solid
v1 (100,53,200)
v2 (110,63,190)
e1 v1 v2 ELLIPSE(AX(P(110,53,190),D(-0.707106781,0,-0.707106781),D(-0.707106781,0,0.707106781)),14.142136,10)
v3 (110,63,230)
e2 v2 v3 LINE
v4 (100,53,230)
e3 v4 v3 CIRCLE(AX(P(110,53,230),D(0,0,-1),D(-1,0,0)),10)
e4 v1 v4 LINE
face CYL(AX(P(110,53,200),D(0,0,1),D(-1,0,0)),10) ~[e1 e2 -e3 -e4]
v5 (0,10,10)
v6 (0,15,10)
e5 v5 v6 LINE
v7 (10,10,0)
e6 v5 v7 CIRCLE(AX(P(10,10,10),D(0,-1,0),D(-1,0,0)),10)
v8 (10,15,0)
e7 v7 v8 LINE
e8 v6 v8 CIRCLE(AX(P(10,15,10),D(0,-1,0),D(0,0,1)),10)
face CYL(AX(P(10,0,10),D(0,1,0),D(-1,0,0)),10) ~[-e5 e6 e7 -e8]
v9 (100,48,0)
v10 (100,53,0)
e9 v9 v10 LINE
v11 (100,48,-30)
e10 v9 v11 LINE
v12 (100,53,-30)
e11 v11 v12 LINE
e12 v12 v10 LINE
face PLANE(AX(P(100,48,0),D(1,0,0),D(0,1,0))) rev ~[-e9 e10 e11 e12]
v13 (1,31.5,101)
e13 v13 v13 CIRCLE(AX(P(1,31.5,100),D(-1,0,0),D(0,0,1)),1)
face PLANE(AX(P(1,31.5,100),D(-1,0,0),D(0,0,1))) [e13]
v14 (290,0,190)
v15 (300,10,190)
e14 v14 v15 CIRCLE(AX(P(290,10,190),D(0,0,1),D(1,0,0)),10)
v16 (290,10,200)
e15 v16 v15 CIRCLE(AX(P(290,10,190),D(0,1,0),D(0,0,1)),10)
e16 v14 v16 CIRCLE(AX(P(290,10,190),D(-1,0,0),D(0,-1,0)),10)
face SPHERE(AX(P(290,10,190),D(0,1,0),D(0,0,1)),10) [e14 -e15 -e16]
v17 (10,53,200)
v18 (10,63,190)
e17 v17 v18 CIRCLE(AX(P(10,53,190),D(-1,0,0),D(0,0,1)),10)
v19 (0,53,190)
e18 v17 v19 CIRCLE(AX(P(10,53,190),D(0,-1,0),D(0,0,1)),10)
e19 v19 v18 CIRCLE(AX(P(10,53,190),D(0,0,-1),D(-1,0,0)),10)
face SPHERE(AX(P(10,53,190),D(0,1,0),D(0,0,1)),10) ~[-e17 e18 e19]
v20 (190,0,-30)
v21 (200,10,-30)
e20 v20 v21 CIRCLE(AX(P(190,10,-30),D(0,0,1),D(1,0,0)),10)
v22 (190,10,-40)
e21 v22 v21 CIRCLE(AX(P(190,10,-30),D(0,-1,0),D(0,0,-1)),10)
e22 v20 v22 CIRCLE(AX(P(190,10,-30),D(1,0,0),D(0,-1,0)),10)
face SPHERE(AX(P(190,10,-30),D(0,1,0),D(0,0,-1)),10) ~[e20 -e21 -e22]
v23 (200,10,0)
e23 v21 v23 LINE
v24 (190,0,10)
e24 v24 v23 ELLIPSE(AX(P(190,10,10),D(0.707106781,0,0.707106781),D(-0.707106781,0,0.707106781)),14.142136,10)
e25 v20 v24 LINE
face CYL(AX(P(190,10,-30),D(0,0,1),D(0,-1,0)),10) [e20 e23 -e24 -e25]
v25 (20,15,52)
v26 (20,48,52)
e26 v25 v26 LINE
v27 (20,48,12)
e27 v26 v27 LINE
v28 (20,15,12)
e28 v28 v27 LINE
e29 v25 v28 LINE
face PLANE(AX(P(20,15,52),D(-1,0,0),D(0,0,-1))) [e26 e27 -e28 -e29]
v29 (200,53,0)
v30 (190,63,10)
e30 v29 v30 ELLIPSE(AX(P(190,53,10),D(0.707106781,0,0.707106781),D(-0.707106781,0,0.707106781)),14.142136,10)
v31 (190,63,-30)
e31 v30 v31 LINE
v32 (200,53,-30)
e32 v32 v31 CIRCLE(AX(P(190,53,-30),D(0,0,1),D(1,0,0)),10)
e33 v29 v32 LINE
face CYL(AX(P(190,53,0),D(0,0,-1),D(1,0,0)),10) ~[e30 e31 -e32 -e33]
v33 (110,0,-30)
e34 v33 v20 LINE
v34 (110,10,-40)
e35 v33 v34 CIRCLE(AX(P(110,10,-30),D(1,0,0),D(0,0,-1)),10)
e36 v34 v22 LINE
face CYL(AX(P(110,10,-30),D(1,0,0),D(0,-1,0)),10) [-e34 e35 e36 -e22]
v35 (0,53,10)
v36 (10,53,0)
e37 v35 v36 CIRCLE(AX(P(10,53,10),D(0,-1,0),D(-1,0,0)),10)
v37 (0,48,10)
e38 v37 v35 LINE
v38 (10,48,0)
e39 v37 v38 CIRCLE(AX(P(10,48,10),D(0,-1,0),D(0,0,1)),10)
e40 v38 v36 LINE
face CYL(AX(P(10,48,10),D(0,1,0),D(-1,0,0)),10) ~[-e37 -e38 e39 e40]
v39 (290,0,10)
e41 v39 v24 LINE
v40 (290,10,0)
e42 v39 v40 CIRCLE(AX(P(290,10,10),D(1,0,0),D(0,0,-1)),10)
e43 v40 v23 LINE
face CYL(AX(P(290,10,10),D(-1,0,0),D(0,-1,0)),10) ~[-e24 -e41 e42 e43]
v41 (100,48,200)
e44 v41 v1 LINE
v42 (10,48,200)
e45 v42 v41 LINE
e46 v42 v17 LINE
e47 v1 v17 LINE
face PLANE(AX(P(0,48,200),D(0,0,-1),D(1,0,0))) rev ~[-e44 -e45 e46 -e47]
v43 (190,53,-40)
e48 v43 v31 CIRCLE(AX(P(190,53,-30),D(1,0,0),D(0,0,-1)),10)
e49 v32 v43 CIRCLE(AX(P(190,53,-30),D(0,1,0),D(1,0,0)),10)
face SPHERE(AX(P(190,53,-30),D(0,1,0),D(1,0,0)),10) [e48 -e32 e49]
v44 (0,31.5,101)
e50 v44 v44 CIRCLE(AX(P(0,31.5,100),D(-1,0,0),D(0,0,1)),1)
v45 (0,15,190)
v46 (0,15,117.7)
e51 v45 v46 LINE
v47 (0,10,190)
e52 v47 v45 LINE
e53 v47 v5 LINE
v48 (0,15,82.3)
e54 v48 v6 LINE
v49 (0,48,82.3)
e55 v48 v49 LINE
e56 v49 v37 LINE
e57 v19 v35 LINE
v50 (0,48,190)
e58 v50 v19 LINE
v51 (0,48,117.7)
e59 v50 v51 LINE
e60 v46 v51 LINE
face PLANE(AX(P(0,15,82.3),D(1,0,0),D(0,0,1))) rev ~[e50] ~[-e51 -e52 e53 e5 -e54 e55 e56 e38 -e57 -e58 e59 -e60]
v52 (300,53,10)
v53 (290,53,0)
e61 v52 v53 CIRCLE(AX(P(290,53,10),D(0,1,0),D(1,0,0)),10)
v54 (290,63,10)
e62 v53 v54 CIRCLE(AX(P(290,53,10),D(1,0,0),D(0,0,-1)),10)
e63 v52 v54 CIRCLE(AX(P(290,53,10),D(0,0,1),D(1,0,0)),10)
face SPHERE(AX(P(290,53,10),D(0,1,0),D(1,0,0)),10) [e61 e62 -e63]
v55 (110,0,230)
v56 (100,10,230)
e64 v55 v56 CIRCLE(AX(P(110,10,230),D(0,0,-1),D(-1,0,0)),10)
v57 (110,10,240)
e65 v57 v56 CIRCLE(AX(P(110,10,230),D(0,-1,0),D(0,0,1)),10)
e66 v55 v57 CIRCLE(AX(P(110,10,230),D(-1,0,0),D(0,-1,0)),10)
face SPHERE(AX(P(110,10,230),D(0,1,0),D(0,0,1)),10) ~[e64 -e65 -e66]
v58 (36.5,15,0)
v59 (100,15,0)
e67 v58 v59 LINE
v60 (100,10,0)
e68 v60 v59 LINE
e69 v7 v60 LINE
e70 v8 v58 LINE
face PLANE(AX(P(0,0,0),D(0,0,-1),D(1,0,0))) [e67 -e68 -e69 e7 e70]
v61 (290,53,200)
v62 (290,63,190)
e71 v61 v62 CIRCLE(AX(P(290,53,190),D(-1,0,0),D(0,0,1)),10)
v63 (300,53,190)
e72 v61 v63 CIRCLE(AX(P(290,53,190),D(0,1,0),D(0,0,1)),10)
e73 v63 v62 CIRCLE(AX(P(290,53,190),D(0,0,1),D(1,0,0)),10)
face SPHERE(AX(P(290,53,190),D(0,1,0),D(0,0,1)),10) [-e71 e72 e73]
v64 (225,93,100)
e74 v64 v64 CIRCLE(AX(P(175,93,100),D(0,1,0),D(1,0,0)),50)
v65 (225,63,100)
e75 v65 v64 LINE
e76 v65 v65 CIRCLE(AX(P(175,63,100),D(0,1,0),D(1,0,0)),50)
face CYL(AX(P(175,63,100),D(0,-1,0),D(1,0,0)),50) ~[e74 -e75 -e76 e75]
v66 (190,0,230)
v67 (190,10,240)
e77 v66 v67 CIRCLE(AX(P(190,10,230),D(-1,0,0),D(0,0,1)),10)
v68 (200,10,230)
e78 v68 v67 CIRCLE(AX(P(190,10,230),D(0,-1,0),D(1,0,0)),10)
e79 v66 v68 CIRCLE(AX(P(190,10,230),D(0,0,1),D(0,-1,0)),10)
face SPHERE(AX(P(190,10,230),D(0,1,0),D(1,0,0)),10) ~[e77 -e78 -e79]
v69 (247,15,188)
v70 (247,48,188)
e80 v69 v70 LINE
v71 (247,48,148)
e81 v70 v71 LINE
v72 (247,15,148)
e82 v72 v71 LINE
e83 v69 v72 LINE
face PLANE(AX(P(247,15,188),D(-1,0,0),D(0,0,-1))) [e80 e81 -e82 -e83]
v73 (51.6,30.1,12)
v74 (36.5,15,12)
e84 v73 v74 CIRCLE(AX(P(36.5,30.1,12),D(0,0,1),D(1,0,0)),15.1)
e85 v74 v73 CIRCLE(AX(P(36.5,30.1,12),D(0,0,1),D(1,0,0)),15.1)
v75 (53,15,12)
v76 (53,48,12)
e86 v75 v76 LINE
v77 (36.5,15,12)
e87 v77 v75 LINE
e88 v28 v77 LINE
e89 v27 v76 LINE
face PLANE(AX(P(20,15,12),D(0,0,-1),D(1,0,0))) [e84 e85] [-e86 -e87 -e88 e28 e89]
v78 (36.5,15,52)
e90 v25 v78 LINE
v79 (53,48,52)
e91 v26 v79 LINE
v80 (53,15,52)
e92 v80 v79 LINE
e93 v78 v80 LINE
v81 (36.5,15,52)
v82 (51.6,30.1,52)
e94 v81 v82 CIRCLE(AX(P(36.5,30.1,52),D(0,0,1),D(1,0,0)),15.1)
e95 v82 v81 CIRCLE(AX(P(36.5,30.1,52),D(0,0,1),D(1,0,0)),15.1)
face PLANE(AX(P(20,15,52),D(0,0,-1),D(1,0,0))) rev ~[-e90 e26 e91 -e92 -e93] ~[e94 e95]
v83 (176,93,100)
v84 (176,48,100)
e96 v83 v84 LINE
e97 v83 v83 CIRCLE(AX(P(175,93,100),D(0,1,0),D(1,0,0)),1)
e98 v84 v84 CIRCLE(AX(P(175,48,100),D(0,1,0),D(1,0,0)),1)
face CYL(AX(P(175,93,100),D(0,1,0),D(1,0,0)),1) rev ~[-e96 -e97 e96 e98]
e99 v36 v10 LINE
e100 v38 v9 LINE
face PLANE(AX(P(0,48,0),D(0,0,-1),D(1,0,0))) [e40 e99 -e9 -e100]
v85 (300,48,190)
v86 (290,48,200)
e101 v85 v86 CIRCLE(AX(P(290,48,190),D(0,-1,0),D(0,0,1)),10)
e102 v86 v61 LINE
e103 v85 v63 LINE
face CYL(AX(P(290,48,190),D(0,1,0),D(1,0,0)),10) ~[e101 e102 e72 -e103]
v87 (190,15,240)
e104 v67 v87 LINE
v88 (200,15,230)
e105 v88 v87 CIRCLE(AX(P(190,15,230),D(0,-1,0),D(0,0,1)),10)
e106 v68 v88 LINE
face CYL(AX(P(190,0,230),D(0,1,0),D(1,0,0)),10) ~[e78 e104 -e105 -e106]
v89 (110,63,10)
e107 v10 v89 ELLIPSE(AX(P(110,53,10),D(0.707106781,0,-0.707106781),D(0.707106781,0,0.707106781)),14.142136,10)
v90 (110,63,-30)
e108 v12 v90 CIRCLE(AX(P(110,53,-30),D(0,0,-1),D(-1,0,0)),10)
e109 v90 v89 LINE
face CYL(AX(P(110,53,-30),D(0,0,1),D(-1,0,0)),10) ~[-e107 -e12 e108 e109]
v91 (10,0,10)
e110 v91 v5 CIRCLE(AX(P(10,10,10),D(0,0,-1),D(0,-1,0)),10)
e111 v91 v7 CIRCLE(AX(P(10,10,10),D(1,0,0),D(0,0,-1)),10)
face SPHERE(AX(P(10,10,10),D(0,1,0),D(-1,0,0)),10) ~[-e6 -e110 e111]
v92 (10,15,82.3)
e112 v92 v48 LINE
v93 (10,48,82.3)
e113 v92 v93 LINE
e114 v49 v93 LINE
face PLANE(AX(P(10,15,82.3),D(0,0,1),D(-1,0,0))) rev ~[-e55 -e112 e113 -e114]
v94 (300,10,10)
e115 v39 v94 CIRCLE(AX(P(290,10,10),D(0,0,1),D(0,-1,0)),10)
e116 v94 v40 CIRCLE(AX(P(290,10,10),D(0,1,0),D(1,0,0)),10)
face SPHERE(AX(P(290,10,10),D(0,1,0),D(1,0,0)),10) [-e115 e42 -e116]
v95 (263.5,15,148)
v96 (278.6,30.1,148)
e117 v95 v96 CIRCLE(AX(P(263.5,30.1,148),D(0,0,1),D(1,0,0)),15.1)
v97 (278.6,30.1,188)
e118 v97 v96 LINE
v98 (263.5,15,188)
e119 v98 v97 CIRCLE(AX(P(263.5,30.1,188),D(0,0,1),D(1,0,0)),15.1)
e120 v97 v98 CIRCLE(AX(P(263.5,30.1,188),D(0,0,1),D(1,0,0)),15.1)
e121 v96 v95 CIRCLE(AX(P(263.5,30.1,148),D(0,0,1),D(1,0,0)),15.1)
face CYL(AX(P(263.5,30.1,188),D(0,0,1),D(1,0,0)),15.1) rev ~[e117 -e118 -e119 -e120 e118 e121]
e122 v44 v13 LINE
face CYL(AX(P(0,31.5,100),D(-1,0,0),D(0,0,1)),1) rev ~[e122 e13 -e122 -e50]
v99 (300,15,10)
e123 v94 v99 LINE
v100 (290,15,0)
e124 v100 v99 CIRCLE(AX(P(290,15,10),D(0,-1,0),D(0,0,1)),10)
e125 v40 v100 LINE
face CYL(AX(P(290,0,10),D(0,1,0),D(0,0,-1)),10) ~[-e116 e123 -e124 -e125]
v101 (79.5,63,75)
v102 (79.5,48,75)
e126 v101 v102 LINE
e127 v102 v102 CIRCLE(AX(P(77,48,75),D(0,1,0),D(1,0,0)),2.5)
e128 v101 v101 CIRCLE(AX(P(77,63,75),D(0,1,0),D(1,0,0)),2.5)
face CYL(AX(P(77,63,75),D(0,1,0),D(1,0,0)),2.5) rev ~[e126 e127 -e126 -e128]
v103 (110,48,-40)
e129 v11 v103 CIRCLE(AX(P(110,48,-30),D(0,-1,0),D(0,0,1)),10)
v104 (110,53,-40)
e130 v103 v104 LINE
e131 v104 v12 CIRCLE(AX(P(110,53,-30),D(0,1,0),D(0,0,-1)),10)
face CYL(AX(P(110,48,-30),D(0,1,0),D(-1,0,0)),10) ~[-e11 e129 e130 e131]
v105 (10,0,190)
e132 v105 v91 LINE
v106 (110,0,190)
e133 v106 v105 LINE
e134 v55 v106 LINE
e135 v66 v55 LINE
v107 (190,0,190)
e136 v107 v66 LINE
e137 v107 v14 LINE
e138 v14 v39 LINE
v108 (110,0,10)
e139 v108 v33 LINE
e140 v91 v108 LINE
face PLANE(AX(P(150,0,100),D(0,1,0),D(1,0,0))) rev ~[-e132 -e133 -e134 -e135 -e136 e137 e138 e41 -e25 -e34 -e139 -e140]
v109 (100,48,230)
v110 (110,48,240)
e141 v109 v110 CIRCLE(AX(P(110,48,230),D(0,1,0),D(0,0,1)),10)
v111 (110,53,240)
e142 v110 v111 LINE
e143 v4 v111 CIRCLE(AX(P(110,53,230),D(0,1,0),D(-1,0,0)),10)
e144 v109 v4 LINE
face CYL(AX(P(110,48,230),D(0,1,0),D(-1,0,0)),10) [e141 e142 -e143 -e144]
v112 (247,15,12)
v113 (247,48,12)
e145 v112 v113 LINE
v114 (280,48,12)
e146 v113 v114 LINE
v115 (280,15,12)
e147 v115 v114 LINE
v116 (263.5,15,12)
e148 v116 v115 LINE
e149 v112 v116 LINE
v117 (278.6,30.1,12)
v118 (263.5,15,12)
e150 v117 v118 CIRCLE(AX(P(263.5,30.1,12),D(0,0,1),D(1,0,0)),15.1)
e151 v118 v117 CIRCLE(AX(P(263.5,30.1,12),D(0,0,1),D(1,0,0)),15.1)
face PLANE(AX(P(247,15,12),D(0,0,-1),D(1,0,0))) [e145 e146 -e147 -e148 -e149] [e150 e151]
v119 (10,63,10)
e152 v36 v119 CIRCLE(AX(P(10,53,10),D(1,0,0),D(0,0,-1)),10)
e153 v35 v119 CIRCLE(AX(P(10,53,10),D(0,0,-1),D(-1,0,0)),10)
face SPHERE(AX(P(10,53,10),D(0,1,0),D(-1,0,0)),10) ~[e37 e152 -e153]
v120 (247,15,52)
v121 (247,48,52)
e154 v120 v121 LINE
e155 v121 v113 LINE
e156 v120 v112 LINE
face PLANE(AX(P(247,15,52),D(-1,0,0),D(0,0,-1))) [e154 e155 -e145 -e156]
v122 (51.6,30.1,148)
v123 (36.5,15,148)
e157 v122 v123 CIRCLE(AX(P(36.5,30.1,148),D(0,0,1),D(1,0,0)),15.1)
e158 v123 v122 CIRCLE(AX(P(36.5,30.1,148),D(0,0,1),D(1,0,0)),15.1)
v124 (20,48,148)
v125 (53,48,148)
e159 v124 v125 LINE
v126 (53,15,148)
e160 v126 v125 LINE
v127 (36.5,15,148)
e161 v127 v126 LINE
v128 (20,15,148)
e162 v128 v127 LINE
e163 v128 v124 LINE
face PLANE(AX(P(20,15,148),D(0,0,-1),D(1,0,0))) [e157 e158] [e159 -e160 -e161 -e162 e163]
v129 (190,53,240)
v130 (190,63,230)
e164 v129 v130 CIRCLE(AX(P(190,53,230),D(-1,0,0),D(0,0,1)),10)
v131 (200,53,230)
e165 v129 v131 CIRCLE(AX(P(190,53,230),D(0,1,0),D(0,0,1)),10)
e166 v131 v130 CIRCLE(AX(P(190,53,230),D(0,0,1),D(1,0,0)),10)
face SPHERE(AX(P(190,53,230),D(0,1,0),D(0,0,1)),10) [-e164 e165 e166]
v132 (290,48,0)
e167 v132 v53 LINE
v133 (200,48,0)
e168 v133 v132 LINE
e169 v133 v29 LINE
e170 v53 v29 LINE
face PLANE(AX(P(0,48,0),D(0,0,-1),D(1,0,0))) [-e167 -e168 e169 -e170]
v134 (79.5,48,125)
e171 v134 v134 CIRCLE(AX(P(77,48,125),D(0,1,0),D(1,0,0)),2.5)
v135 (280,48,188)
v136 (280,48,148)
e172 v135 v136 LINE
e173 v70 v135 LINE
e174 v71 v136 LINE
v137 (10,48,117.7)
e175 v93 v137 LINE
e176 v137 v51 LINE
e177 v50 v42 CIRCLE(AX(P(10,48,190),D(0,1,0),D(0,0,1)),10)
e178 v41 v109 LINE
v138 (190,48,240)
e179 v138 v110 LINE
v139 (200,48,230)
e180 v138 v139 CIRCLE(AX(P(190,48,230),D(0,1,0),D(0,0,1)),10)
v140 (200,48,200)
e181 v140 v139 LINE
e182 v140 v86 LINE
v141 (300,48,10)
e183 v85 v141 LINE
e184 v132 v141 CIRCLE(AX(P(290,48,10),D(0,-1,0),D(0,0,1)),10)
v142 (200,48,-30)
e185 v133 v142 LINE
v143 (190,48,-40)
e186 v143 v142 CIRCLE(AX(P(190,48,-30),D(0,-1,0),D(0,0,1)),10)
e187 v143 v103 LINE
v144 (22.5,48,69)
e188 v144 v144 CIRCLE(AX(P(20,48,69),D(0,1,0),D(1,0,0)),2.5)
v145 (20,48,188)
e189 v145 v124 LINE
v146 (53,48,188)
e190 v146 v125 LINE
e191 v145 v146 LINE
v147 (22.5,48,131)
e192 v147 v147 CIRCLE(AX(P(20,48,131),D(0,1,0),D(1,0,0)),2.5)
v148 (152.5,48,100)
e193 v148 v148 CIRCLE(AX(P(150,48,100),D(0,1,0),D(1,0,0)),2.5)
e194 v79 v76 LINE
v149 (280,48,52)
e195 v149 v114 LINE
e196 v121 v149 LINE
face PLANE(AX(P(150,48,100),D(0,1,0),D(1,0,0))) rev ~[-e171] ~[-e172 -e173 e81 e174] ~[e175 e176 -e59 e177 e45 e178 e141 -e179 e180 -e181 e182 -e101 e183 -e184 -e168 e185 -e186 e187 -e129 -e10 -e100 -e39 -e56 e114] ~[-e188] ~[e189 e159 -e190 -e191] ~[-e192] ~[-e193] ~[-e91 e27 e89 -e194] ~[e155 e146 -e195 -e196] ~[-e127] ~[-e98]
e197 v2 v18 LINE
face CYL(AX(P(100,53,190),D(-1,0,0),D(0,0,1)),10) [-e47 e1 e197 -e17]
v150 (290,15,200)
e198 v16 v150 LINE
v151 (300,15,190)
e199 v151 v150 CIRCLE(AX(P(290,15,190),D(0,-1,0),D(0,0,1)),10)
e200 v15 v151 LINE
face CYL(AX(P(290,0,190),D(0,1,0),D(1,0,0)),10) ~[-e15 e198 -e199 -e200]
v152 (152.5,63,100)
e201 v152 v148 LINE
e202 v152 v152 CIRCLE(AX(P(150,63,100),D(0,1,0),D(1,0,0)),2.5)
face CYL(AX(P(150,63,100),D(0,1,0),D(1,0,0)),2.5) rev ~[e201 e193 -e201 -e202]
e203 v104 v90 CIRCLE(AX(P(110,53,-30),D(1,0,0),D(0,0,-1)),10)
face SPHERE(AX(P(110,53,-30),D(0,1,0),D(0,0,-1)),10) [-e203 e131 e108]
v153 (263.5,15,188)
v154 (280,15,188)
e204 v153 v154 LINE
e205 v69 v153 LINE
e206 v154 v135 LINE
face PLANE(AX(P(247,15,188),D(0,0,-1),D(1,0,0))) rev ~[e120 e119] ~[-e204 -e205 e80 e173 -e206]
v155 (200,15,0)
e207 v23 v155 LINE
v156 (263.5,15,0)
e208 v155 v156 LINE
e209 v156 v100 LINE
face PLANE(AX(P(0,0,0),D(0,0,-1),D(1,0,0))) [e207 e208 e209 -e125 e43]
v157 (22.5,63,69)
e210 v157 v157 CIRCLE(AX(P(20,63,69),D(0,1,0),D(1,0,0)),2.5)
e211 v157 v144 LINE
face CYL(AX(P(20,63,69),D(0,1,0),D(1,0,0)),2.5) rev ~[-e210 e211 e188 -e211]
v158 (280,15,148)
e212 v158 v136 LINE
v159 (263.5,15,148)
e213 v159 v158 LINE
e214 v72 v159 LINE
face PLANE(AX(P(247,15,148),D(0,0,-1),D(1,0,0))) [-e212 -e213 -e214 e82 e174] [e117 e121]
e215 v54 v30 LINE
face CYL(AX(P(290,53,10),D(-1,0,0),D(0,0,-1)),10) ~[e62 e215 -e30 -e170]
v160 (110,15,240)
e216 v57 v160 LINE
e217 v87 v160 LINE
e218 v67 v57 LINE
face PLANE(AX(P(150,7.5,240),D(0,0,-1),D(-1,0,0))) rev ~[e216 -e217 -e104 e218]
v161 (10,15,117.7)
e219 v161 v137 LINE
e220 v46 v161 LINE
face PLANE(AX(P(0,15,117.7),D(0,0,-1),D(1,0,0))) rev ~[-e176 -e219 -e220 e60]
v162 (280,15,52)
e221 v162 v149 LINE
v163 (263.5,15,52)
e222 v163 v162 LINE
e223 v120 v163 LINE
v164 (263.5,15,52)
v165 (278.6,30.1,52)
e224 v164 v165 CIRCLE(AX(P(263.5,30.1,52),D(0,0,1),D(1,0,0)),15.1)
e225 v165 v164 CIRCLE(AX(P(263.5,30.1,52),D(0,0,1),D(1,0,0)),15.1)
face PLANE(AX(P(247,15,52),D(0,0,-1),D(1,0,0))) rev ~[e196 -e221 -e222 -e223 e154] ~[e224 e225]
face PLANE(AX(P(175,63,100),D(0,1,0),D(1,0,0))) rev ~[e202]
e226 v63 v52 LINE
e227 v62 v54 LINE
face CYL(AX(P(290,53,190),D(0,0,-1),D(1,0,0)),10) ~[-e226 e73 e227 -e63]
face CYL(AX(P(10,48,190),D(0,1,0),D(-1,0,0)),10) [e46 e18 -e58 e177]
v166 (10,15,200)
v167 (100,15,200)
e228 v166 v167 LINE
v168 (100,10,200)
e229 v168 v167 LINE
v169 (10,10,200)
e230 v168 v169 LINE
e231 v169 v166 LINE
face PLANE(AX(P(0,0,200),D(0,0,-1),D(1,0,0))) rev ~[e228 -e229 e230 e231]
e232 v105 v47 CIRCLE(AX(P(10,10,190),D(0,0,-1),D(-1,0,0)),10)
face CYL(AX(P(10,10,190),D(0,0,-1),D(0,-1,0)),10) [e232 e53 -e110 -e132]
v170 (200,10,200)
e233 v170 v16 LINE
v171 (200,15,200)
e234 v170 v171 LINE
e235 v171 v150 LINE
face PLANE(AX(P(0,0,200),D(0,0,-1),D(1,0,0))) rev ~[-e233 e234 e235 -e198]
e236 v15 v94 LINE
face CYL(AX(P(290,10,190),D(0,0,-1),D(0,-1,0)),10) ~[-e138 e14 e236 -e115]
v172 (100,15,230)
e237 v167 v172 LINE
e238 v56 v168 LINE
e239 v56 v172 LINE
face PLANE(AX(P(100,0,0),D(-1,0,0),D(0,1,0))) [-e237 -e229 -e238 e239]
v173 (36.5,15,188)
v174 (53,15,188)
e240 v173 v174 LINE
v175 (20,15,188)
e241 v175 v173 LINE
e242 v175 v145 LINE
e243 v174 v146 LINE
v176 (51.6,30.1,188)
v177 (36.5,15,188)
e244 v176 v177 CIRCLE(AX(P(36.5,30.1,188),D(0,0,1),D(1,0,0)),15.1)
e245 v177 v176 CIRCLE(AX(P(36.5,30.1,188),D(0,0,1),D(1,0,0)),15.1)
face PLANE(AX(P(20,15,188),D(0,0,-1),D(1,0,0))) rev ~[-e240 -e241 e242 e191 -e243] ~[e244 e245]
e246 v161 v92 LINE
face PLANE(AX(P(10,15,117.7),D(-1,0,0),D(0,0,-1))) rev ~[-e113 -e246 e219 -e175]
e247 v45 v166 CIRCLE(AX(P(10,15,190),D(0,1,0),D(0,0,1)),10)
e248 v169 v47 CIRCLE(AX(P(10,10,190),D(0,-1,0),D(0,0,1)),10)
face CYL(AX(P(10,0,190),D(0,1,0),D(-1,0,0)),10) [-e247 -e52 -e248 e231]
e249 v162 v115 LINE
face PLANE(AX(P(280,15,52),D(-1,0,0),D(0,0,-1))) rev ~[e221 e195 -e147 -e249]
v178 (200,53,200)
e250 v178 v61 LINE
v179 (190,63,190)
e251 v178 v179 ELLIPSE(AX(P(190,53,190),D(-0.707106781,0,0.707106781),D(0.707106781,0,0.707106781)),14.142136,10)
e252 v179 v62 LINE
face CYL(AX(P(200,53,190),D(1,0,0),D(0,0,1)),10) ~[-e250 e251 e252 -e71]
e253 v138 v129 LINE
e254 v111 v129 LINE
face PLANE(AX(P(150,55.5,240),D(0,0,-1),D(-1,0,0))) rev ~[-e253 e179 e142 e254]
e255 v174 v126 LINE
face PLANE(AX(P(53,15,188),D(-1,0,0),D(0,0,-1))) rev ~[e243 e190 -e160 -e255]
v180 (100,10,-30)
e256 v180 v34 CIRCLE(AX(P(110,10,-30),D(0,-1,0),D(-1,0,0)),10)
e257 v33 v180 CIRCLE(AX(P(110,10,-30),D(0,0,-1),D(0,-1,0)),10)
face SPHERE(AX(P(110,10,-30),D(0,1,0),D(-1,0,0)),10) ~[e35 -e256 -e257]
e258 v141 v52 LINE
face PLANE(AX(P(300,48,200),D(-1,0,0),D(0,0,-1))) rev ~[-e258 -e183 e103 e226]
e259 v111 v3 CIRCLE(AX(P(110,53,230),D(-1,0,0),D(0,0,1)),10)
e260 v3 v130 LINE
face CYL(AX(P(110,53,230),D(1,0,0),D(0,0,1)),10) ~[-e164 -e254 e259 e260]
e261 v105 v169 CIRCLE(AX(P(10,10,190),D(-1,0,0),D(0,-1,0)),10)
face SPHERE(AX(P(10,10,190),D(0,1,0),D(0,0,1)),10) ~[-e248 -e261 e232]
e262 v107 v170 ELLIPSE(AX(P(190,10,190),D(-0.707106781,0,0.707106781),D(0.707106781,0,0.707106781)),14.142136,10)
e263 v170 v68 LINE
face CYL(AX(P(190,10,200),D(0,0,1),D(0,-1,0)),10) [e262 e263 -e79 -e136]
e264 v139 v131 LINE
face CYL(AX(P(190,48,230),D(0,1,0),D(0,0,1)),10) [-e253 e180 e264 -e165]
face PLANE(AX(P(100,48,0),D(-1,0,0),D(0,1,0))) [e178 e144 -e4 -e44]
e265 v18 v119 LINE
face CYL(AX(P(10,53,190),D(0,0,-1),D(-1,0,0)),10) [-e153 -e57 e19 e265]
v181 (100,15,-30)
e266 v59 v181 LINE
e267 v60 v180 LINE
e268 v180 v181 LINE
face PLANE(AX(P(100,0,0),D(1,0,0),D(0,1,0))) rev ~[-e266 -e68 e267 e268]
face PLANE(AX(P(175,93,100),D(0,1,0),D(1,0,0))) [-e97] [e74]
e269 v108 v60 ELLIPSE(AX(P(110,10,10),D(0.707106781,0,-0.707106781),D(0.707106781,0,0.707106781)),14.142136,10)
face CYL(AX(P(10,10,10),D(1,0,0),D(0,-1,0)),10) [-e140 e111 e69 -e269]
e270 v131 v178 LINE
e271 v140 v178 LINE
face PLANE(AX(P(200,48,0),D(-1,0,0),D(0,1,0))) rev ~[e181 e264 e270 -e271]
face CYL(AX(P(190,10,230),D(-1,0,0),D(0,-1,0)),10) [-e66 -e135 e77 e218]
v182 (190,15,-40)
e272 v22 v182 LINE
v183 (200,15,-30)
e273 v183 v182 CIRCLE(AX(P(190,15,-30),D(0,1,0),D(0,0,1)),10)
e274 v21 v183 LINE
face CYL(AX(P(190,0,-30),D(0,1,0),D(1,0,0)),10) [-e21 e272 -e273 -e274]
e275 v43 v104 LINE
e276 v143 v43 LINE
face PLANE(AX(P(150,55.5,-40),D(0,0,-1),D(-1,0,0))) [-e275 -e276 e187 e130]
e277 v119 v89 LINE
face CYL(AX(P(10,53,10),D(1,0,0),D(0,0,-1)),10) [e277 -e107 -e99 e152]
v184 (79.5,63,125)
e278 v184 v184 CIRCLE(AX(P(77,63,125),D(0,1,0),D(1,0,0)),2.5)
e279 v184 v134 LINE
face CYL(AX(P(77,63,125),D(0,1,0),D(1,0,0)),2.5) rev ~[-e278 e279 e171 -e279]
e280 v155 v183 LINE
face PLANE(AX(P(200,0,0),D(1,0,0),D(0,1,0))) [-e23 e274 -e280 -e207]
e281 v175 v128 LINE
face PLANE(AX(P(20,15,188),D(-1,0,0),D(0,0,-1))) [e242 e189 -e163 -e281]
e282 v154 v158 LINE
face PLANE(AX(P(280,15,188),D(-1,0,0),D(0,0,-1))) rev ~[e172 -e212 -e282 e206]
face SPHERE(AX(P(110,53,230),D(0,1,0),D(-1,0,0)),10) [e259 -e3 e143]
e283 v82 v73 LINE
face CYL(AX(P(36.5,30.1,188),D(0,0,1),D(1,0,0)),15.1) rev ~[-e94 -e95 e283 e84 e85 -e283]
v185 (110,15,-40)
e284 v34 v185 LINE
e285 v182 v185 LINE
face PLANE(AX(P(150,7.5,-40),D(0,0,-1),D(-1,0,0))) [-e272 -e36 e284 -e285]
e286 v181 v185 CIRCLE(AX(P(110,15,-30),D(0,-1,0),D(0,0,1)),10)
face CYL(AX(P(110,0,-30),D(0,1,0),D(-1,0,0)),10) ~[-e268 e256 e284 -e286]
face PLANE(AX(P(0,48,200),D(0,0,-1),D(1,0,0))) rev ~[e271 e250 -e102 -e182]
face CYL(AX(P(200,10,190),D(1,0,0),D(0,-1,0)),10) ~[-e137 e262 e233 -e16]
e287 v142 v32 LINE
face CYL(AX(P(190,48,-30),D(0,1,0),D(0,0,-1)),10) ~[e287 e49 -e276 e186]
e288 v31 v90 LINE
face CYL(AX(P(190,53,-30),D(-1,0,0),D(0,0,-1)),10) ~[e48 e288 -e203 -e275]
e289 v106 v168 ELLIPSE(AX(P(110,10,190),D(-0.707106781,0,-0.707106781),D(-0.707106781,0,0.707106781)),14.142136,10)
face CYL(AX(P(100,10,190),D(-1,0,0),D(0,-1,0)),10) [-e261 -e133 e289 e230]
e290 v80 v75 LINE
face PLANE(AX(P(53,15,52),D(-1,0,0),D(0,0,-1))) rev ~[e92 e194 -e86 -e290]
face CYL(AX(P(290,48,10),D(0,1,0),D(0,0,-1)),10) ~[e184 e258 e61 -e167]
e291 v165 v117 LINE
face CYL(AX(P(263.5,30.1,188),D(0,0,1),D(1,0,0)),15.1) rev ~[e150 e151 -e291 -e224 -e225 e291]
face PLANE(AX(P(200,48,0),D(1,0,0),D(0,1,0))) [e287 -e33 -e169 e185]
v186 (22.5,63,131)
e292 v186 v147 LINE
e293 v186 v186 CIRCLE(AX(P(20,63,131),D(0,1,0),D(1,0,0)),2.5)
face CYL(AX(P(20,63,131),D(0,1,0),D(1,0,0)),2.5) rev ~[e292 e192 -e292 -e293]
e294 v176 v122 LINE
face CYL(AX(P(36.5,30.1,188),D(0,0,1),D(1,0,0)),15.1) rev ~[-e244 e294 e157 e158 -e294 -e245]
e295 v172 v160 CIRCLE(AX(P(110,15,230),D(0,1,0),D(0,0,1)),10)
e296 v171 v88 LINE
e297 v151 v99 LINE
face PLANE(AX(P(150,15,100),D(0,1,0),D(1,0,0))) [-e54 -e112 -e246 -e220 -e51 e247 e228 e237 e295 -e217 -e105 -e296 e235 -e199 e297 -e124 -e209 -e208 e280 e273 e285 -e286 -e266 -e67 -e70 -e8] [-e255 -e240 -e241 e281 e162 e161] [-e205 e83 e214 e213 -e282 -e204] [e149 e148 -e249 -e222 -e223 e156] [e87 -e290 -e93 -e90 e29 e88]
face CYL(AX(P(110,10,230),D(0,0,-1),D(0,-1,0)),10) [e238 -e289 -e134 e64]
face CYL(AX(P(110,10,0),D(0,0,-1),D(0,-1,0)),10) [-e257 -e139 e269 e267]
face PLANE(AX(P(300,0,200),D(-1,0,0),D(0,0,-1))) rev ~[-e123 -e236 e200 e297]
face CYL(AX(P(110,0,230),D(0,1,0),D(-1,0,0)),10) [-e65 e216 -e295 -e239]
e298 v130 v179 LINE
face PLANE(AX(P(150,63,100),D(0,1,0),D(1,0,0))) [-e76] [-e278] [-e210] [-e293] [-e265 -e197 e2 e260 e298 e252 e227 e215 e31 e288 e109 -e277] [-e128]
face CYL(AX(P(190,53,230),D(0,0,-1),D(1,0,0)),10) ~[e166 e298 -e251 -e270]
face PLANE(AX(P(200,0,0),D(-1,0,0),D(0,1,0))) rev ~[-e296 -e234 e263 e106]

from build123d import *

# Parameters (mm, degrees)
SKETCH1_W                = 300
SKETCH1_H                = 200
BOSS_EXTRUDE1_DEPTH      = 15
SKETCH3_W                = 33
SKETCH3_H                = 40
BOSS_EXTRUDE2_DEPTH      = 33
SKETCH4_R                = 15.1
CUT_EXTRUDE1_DEPTH       = 222
SKETCH5_W                = 300
SKETCH5_H                = 200
BOSS_EXTRUDE3_DEPTH      = 15
SKETCH6_W                = 100
SKETCH6_H                = 15
BOSS_EXTRUDE4_DEPTH      = 40
BOSS_EXTRUDE4_DEPTH_BACK = 240
FILLET1_R                = 10
BOSS_EXTRUDE7_DEPTH      = 34
FILLET2_R                = 10
FILLET3_R                = 10
SKETCH12_R               = 1
CUT_EXTRUDE4_DEPTH       = 1
SKETCH13_R               = 2.5
CUT_EXTRUDE5_DEPTH       = 27
SKETCH14_R               = 2.5
CUT_EXTRUDE6_DEPTH       = 32
SKETCH15_R               = 50
BOSS_EXTRUDE9_DEPTH      = 30
SKETCH16_R               = 1
CUT_EXTRUDE7_DEPTH       = 63


with BuildPart() as part:
    # Sketch1 → Boss-Extrude1 (new body)
    with BuildSketch(Plane(origin=(0, 0, 0), x_dir=(1, 0, 0), z_dir=(0, 1, 0))):
        with Locations((150, -100)):
            Rectangle(SKETCH1_W, SKETCH1_H)
    extrude(amount=BOSS_EXTRUDE1_DEPTH)

    # Sketch3 → Boss-Extrude2 (add)
    with BuildSketch(Plane(origin=(0, 15, 0), x_dir=(1, 0, 0), z_dir=(0, 1, 0))):
        with Locations((263.5, -168)):
            Rectangle(SKETCH3_W, SKETCH3_H)
        with Locations((263.5, -32)):
            Rectangle(SKETCH3_W, SKETCH3_H)
        with Locations((36.5, -32)):
            Rectangle(SKETCH3_W, SKETCH3_H)
        with Locations((36.5, -168)):
            Rectangle(SKETCH3_W, SKETCH3_H)
    extrude(amount=BOSS_EXTRUDE2_DEPTH)

    # Sketch4 → Cut-Extrude1 (cut)
    with BuildSketch(Plane.XY.offset(188)):
        with Locations((36.5, 30.1)):
            Circle(SKETCH4_R)
        with Locations((263.5, 30.1)):
            Circle(SKETCH4_R)
    extrude(amount=-CUT_EXTRUDE1_DEPTH, mode=Mode.SUBTRACT)

    # Sketch5 → Boss-Extrude3 (add)
    with BuildSketch(Plane(origin=(0, 48, 0), x_dir=(1, 0, 0), z_dir=(0, 1, 0))):
        with Locations((150, -100)):
            Rectangle(SKETCH5_W, SKETCH5_H)
    extrude(amount=BOSS_EXTRUDE3_DEPTH)

    # Sketch6 → Boss-Extrude4 (add, two sides)
    with BuildSketch(Plane(origin=(0, 0, 0), x_dir=(-1, 0, 0), z_dir=(0, 0, -1))) as boss_extrude4_sk:
        with Locations((-150, 55.5)):
            Rectangle(SKETCH6_W, SKETCH6_H)
        with Locations((-150, 7.5)):
            Rectangle(SKETCH6_W, SKETCH6_H)
    extrude(amount=BOSS_EXTRUDE4_DEPTH)
    extrude(boss_extrude4_sk.sketch, amount=-BOSS_EXTRUDE4_DEPTH_BACK)

    # Fillet1
    fillet1_edges = [part.edges().sort_by_distance(p)[0] for p in [
        (100, 55.5, 240),
        (200, 55.5, 240),
        (100, 55.5, -40),
        (200, 55.5, -40),
        (200, 7.5, 240),
        (100, 7.5, 240),
        (200, 7.5, -40),
        (100, 7.5, -40),
        (0, 7.5, 0),
        (300, 7.5, 0),
        (300, 7.5, 200),
        (0, 7.5, 200),
        (0, 55.5, 0),
        (0, 55.5, 200),
        (300, 55.5, 200),
        (300, 55.5, 0),
    ]]
    fillet(fillet1_edges, radius=FILLET1_R)

    # Sketch11 → Boss-Extrude7 (add)
    with BuildSketch(Plane(origin=(0, 15, 0), x_dir=(1, 0, 0), z_dir=(0, 1, 0))):
        Polygon((0, -82.3), (0, -100), (0, -117.7), (10, -117.7), (10, -82.3), align=None)
    extrude(amount=BOSS_EXTRUDE7_DEPTH)

    # Fillet2
    fillet2_edges = [part.edges().sort_by_distance(p)[0] for p in [
        (245, 63, 200),
        (55, 63, 0),
        (200, 63, -15),
        (100, 63, -15),
        (245, 63, 0),
        (300, 63, 100),
        (150, 63, -40),
        (0, 63, 100),
        (55, 63, 200),
        (100, 63, 215),
        (150, 63, 240),
        (200, 63, 215),
        (102.928932188, 63, -37.071067812),
        (197.071067812, 63, -37.071067812),
        (102.928932188, 63, 237.071067812),
        (197.071067812, 63, 237.071067812),
        (297.071067812, 63, 197.071067812),
        (2.928932188, 63, 197.071067812),
        (2.928932188, 63, 2.928932188),
        (297.071067812, 63, 2.928932188),
    ]]
    fillet(fillet2_edges, radius=FILLET2_R)

    # Fillet3
    fillet3_edges = [part.edges().sort_by_distance(p)[0] for p in [
        (55, 0, 0),
        (245, 0, 200),
        (100, 0, -15),
        (200, 0, -15),
        (245, 0, 0),
        (150, 0, -40),
        (300, 0, 100),
        (200, 0, 215),
        (150, 0, 240),
        (100, 0, 215),
        (55, 0, 200),
        (0, 0, 100),
        (197.071067812, 0, -37.071067812),
        (102.928932188, 0, -37.071067812),
        (102.928932188, 0, 237.071067812),
        (197.071067812, 0, 237.071067812),
        (297.071067812, 0, 197.071067812),
        (2.928932188, 0, 197.071067812),
        (2.928932188, 0, 2.928932188),
        (297.071067812, 0, 2.928932188),
    ]]
    fillet(fillet3_edges, radius=FILLET3_R)

    # Sketch12 → Cut-Extrude4 (cut)
    with BuildSketch(Plane.ZY):
        with Locations((100, 31.5)):
            Circle(SKETCH12_R)
    extrude(amount=-CUT_EXTRUDE4_DEPTH, mode=Mode.SUBTRACT)

    # Sketch13 → Cut-Extrude5 (cut)
    with BuildSketch(Plane(origin=(0, 63, 0), x_dir=(1, 0, 0), z_dir=(0, 1, 0))):
        with Locations((150, -100)):
            Circle(SKETCH13_R)
    extrude(amount=-CUT_EXTRUDE5_DEPTH, mode=Mode.SUBTRACT)

    # Sketch14 → Cut-Extrude6 (cut)
    with BuildSketch(Plane(origin=(0, 63, 0), x_dir=(1, 0, 0), z_dir=(0, 1, 0))):
        with Locations((20, -131)):
            Circle(SKETCH14_R)
        with Locations((20, -69)):
            Circle(SKETCH14_R)
        with Locations((77, -75)):
            Circle(SKETCH14_R)
        with Locations((77, -125)):
            Circle(SKETCH14_R)
    extrude(amount=-CUT_EXTRUDE6_DEPTH, mode=Mode.SUBTRACT)

    # Sketch15 → Boss-Extrude9 (add)
    with BuildSketch(Plane(origin=(0, 63, 0), x_dir=(1, 0, 0), z_dir=(0, 1, 0))):
        with Locations((175, -100)):
            Circle(SKETCH15_R)
    extrude(amount=BOSS_EXTRUDE9_DEPTH)

    # Sketch16 → Cut-Extrude7 (cut)
    with BuildSketch(Plane(origin=(0, 93, 0), x_dir=(1, 0, 0), z_dir=(0, 1, 0))):
        with Locations((175, -100)):
            Circle(SKETCH16_R)
    extrude(amount=-CUT_EXTRUDE7_DEPTH, mode=Mode.SUBTRACT)


solid = part.part
